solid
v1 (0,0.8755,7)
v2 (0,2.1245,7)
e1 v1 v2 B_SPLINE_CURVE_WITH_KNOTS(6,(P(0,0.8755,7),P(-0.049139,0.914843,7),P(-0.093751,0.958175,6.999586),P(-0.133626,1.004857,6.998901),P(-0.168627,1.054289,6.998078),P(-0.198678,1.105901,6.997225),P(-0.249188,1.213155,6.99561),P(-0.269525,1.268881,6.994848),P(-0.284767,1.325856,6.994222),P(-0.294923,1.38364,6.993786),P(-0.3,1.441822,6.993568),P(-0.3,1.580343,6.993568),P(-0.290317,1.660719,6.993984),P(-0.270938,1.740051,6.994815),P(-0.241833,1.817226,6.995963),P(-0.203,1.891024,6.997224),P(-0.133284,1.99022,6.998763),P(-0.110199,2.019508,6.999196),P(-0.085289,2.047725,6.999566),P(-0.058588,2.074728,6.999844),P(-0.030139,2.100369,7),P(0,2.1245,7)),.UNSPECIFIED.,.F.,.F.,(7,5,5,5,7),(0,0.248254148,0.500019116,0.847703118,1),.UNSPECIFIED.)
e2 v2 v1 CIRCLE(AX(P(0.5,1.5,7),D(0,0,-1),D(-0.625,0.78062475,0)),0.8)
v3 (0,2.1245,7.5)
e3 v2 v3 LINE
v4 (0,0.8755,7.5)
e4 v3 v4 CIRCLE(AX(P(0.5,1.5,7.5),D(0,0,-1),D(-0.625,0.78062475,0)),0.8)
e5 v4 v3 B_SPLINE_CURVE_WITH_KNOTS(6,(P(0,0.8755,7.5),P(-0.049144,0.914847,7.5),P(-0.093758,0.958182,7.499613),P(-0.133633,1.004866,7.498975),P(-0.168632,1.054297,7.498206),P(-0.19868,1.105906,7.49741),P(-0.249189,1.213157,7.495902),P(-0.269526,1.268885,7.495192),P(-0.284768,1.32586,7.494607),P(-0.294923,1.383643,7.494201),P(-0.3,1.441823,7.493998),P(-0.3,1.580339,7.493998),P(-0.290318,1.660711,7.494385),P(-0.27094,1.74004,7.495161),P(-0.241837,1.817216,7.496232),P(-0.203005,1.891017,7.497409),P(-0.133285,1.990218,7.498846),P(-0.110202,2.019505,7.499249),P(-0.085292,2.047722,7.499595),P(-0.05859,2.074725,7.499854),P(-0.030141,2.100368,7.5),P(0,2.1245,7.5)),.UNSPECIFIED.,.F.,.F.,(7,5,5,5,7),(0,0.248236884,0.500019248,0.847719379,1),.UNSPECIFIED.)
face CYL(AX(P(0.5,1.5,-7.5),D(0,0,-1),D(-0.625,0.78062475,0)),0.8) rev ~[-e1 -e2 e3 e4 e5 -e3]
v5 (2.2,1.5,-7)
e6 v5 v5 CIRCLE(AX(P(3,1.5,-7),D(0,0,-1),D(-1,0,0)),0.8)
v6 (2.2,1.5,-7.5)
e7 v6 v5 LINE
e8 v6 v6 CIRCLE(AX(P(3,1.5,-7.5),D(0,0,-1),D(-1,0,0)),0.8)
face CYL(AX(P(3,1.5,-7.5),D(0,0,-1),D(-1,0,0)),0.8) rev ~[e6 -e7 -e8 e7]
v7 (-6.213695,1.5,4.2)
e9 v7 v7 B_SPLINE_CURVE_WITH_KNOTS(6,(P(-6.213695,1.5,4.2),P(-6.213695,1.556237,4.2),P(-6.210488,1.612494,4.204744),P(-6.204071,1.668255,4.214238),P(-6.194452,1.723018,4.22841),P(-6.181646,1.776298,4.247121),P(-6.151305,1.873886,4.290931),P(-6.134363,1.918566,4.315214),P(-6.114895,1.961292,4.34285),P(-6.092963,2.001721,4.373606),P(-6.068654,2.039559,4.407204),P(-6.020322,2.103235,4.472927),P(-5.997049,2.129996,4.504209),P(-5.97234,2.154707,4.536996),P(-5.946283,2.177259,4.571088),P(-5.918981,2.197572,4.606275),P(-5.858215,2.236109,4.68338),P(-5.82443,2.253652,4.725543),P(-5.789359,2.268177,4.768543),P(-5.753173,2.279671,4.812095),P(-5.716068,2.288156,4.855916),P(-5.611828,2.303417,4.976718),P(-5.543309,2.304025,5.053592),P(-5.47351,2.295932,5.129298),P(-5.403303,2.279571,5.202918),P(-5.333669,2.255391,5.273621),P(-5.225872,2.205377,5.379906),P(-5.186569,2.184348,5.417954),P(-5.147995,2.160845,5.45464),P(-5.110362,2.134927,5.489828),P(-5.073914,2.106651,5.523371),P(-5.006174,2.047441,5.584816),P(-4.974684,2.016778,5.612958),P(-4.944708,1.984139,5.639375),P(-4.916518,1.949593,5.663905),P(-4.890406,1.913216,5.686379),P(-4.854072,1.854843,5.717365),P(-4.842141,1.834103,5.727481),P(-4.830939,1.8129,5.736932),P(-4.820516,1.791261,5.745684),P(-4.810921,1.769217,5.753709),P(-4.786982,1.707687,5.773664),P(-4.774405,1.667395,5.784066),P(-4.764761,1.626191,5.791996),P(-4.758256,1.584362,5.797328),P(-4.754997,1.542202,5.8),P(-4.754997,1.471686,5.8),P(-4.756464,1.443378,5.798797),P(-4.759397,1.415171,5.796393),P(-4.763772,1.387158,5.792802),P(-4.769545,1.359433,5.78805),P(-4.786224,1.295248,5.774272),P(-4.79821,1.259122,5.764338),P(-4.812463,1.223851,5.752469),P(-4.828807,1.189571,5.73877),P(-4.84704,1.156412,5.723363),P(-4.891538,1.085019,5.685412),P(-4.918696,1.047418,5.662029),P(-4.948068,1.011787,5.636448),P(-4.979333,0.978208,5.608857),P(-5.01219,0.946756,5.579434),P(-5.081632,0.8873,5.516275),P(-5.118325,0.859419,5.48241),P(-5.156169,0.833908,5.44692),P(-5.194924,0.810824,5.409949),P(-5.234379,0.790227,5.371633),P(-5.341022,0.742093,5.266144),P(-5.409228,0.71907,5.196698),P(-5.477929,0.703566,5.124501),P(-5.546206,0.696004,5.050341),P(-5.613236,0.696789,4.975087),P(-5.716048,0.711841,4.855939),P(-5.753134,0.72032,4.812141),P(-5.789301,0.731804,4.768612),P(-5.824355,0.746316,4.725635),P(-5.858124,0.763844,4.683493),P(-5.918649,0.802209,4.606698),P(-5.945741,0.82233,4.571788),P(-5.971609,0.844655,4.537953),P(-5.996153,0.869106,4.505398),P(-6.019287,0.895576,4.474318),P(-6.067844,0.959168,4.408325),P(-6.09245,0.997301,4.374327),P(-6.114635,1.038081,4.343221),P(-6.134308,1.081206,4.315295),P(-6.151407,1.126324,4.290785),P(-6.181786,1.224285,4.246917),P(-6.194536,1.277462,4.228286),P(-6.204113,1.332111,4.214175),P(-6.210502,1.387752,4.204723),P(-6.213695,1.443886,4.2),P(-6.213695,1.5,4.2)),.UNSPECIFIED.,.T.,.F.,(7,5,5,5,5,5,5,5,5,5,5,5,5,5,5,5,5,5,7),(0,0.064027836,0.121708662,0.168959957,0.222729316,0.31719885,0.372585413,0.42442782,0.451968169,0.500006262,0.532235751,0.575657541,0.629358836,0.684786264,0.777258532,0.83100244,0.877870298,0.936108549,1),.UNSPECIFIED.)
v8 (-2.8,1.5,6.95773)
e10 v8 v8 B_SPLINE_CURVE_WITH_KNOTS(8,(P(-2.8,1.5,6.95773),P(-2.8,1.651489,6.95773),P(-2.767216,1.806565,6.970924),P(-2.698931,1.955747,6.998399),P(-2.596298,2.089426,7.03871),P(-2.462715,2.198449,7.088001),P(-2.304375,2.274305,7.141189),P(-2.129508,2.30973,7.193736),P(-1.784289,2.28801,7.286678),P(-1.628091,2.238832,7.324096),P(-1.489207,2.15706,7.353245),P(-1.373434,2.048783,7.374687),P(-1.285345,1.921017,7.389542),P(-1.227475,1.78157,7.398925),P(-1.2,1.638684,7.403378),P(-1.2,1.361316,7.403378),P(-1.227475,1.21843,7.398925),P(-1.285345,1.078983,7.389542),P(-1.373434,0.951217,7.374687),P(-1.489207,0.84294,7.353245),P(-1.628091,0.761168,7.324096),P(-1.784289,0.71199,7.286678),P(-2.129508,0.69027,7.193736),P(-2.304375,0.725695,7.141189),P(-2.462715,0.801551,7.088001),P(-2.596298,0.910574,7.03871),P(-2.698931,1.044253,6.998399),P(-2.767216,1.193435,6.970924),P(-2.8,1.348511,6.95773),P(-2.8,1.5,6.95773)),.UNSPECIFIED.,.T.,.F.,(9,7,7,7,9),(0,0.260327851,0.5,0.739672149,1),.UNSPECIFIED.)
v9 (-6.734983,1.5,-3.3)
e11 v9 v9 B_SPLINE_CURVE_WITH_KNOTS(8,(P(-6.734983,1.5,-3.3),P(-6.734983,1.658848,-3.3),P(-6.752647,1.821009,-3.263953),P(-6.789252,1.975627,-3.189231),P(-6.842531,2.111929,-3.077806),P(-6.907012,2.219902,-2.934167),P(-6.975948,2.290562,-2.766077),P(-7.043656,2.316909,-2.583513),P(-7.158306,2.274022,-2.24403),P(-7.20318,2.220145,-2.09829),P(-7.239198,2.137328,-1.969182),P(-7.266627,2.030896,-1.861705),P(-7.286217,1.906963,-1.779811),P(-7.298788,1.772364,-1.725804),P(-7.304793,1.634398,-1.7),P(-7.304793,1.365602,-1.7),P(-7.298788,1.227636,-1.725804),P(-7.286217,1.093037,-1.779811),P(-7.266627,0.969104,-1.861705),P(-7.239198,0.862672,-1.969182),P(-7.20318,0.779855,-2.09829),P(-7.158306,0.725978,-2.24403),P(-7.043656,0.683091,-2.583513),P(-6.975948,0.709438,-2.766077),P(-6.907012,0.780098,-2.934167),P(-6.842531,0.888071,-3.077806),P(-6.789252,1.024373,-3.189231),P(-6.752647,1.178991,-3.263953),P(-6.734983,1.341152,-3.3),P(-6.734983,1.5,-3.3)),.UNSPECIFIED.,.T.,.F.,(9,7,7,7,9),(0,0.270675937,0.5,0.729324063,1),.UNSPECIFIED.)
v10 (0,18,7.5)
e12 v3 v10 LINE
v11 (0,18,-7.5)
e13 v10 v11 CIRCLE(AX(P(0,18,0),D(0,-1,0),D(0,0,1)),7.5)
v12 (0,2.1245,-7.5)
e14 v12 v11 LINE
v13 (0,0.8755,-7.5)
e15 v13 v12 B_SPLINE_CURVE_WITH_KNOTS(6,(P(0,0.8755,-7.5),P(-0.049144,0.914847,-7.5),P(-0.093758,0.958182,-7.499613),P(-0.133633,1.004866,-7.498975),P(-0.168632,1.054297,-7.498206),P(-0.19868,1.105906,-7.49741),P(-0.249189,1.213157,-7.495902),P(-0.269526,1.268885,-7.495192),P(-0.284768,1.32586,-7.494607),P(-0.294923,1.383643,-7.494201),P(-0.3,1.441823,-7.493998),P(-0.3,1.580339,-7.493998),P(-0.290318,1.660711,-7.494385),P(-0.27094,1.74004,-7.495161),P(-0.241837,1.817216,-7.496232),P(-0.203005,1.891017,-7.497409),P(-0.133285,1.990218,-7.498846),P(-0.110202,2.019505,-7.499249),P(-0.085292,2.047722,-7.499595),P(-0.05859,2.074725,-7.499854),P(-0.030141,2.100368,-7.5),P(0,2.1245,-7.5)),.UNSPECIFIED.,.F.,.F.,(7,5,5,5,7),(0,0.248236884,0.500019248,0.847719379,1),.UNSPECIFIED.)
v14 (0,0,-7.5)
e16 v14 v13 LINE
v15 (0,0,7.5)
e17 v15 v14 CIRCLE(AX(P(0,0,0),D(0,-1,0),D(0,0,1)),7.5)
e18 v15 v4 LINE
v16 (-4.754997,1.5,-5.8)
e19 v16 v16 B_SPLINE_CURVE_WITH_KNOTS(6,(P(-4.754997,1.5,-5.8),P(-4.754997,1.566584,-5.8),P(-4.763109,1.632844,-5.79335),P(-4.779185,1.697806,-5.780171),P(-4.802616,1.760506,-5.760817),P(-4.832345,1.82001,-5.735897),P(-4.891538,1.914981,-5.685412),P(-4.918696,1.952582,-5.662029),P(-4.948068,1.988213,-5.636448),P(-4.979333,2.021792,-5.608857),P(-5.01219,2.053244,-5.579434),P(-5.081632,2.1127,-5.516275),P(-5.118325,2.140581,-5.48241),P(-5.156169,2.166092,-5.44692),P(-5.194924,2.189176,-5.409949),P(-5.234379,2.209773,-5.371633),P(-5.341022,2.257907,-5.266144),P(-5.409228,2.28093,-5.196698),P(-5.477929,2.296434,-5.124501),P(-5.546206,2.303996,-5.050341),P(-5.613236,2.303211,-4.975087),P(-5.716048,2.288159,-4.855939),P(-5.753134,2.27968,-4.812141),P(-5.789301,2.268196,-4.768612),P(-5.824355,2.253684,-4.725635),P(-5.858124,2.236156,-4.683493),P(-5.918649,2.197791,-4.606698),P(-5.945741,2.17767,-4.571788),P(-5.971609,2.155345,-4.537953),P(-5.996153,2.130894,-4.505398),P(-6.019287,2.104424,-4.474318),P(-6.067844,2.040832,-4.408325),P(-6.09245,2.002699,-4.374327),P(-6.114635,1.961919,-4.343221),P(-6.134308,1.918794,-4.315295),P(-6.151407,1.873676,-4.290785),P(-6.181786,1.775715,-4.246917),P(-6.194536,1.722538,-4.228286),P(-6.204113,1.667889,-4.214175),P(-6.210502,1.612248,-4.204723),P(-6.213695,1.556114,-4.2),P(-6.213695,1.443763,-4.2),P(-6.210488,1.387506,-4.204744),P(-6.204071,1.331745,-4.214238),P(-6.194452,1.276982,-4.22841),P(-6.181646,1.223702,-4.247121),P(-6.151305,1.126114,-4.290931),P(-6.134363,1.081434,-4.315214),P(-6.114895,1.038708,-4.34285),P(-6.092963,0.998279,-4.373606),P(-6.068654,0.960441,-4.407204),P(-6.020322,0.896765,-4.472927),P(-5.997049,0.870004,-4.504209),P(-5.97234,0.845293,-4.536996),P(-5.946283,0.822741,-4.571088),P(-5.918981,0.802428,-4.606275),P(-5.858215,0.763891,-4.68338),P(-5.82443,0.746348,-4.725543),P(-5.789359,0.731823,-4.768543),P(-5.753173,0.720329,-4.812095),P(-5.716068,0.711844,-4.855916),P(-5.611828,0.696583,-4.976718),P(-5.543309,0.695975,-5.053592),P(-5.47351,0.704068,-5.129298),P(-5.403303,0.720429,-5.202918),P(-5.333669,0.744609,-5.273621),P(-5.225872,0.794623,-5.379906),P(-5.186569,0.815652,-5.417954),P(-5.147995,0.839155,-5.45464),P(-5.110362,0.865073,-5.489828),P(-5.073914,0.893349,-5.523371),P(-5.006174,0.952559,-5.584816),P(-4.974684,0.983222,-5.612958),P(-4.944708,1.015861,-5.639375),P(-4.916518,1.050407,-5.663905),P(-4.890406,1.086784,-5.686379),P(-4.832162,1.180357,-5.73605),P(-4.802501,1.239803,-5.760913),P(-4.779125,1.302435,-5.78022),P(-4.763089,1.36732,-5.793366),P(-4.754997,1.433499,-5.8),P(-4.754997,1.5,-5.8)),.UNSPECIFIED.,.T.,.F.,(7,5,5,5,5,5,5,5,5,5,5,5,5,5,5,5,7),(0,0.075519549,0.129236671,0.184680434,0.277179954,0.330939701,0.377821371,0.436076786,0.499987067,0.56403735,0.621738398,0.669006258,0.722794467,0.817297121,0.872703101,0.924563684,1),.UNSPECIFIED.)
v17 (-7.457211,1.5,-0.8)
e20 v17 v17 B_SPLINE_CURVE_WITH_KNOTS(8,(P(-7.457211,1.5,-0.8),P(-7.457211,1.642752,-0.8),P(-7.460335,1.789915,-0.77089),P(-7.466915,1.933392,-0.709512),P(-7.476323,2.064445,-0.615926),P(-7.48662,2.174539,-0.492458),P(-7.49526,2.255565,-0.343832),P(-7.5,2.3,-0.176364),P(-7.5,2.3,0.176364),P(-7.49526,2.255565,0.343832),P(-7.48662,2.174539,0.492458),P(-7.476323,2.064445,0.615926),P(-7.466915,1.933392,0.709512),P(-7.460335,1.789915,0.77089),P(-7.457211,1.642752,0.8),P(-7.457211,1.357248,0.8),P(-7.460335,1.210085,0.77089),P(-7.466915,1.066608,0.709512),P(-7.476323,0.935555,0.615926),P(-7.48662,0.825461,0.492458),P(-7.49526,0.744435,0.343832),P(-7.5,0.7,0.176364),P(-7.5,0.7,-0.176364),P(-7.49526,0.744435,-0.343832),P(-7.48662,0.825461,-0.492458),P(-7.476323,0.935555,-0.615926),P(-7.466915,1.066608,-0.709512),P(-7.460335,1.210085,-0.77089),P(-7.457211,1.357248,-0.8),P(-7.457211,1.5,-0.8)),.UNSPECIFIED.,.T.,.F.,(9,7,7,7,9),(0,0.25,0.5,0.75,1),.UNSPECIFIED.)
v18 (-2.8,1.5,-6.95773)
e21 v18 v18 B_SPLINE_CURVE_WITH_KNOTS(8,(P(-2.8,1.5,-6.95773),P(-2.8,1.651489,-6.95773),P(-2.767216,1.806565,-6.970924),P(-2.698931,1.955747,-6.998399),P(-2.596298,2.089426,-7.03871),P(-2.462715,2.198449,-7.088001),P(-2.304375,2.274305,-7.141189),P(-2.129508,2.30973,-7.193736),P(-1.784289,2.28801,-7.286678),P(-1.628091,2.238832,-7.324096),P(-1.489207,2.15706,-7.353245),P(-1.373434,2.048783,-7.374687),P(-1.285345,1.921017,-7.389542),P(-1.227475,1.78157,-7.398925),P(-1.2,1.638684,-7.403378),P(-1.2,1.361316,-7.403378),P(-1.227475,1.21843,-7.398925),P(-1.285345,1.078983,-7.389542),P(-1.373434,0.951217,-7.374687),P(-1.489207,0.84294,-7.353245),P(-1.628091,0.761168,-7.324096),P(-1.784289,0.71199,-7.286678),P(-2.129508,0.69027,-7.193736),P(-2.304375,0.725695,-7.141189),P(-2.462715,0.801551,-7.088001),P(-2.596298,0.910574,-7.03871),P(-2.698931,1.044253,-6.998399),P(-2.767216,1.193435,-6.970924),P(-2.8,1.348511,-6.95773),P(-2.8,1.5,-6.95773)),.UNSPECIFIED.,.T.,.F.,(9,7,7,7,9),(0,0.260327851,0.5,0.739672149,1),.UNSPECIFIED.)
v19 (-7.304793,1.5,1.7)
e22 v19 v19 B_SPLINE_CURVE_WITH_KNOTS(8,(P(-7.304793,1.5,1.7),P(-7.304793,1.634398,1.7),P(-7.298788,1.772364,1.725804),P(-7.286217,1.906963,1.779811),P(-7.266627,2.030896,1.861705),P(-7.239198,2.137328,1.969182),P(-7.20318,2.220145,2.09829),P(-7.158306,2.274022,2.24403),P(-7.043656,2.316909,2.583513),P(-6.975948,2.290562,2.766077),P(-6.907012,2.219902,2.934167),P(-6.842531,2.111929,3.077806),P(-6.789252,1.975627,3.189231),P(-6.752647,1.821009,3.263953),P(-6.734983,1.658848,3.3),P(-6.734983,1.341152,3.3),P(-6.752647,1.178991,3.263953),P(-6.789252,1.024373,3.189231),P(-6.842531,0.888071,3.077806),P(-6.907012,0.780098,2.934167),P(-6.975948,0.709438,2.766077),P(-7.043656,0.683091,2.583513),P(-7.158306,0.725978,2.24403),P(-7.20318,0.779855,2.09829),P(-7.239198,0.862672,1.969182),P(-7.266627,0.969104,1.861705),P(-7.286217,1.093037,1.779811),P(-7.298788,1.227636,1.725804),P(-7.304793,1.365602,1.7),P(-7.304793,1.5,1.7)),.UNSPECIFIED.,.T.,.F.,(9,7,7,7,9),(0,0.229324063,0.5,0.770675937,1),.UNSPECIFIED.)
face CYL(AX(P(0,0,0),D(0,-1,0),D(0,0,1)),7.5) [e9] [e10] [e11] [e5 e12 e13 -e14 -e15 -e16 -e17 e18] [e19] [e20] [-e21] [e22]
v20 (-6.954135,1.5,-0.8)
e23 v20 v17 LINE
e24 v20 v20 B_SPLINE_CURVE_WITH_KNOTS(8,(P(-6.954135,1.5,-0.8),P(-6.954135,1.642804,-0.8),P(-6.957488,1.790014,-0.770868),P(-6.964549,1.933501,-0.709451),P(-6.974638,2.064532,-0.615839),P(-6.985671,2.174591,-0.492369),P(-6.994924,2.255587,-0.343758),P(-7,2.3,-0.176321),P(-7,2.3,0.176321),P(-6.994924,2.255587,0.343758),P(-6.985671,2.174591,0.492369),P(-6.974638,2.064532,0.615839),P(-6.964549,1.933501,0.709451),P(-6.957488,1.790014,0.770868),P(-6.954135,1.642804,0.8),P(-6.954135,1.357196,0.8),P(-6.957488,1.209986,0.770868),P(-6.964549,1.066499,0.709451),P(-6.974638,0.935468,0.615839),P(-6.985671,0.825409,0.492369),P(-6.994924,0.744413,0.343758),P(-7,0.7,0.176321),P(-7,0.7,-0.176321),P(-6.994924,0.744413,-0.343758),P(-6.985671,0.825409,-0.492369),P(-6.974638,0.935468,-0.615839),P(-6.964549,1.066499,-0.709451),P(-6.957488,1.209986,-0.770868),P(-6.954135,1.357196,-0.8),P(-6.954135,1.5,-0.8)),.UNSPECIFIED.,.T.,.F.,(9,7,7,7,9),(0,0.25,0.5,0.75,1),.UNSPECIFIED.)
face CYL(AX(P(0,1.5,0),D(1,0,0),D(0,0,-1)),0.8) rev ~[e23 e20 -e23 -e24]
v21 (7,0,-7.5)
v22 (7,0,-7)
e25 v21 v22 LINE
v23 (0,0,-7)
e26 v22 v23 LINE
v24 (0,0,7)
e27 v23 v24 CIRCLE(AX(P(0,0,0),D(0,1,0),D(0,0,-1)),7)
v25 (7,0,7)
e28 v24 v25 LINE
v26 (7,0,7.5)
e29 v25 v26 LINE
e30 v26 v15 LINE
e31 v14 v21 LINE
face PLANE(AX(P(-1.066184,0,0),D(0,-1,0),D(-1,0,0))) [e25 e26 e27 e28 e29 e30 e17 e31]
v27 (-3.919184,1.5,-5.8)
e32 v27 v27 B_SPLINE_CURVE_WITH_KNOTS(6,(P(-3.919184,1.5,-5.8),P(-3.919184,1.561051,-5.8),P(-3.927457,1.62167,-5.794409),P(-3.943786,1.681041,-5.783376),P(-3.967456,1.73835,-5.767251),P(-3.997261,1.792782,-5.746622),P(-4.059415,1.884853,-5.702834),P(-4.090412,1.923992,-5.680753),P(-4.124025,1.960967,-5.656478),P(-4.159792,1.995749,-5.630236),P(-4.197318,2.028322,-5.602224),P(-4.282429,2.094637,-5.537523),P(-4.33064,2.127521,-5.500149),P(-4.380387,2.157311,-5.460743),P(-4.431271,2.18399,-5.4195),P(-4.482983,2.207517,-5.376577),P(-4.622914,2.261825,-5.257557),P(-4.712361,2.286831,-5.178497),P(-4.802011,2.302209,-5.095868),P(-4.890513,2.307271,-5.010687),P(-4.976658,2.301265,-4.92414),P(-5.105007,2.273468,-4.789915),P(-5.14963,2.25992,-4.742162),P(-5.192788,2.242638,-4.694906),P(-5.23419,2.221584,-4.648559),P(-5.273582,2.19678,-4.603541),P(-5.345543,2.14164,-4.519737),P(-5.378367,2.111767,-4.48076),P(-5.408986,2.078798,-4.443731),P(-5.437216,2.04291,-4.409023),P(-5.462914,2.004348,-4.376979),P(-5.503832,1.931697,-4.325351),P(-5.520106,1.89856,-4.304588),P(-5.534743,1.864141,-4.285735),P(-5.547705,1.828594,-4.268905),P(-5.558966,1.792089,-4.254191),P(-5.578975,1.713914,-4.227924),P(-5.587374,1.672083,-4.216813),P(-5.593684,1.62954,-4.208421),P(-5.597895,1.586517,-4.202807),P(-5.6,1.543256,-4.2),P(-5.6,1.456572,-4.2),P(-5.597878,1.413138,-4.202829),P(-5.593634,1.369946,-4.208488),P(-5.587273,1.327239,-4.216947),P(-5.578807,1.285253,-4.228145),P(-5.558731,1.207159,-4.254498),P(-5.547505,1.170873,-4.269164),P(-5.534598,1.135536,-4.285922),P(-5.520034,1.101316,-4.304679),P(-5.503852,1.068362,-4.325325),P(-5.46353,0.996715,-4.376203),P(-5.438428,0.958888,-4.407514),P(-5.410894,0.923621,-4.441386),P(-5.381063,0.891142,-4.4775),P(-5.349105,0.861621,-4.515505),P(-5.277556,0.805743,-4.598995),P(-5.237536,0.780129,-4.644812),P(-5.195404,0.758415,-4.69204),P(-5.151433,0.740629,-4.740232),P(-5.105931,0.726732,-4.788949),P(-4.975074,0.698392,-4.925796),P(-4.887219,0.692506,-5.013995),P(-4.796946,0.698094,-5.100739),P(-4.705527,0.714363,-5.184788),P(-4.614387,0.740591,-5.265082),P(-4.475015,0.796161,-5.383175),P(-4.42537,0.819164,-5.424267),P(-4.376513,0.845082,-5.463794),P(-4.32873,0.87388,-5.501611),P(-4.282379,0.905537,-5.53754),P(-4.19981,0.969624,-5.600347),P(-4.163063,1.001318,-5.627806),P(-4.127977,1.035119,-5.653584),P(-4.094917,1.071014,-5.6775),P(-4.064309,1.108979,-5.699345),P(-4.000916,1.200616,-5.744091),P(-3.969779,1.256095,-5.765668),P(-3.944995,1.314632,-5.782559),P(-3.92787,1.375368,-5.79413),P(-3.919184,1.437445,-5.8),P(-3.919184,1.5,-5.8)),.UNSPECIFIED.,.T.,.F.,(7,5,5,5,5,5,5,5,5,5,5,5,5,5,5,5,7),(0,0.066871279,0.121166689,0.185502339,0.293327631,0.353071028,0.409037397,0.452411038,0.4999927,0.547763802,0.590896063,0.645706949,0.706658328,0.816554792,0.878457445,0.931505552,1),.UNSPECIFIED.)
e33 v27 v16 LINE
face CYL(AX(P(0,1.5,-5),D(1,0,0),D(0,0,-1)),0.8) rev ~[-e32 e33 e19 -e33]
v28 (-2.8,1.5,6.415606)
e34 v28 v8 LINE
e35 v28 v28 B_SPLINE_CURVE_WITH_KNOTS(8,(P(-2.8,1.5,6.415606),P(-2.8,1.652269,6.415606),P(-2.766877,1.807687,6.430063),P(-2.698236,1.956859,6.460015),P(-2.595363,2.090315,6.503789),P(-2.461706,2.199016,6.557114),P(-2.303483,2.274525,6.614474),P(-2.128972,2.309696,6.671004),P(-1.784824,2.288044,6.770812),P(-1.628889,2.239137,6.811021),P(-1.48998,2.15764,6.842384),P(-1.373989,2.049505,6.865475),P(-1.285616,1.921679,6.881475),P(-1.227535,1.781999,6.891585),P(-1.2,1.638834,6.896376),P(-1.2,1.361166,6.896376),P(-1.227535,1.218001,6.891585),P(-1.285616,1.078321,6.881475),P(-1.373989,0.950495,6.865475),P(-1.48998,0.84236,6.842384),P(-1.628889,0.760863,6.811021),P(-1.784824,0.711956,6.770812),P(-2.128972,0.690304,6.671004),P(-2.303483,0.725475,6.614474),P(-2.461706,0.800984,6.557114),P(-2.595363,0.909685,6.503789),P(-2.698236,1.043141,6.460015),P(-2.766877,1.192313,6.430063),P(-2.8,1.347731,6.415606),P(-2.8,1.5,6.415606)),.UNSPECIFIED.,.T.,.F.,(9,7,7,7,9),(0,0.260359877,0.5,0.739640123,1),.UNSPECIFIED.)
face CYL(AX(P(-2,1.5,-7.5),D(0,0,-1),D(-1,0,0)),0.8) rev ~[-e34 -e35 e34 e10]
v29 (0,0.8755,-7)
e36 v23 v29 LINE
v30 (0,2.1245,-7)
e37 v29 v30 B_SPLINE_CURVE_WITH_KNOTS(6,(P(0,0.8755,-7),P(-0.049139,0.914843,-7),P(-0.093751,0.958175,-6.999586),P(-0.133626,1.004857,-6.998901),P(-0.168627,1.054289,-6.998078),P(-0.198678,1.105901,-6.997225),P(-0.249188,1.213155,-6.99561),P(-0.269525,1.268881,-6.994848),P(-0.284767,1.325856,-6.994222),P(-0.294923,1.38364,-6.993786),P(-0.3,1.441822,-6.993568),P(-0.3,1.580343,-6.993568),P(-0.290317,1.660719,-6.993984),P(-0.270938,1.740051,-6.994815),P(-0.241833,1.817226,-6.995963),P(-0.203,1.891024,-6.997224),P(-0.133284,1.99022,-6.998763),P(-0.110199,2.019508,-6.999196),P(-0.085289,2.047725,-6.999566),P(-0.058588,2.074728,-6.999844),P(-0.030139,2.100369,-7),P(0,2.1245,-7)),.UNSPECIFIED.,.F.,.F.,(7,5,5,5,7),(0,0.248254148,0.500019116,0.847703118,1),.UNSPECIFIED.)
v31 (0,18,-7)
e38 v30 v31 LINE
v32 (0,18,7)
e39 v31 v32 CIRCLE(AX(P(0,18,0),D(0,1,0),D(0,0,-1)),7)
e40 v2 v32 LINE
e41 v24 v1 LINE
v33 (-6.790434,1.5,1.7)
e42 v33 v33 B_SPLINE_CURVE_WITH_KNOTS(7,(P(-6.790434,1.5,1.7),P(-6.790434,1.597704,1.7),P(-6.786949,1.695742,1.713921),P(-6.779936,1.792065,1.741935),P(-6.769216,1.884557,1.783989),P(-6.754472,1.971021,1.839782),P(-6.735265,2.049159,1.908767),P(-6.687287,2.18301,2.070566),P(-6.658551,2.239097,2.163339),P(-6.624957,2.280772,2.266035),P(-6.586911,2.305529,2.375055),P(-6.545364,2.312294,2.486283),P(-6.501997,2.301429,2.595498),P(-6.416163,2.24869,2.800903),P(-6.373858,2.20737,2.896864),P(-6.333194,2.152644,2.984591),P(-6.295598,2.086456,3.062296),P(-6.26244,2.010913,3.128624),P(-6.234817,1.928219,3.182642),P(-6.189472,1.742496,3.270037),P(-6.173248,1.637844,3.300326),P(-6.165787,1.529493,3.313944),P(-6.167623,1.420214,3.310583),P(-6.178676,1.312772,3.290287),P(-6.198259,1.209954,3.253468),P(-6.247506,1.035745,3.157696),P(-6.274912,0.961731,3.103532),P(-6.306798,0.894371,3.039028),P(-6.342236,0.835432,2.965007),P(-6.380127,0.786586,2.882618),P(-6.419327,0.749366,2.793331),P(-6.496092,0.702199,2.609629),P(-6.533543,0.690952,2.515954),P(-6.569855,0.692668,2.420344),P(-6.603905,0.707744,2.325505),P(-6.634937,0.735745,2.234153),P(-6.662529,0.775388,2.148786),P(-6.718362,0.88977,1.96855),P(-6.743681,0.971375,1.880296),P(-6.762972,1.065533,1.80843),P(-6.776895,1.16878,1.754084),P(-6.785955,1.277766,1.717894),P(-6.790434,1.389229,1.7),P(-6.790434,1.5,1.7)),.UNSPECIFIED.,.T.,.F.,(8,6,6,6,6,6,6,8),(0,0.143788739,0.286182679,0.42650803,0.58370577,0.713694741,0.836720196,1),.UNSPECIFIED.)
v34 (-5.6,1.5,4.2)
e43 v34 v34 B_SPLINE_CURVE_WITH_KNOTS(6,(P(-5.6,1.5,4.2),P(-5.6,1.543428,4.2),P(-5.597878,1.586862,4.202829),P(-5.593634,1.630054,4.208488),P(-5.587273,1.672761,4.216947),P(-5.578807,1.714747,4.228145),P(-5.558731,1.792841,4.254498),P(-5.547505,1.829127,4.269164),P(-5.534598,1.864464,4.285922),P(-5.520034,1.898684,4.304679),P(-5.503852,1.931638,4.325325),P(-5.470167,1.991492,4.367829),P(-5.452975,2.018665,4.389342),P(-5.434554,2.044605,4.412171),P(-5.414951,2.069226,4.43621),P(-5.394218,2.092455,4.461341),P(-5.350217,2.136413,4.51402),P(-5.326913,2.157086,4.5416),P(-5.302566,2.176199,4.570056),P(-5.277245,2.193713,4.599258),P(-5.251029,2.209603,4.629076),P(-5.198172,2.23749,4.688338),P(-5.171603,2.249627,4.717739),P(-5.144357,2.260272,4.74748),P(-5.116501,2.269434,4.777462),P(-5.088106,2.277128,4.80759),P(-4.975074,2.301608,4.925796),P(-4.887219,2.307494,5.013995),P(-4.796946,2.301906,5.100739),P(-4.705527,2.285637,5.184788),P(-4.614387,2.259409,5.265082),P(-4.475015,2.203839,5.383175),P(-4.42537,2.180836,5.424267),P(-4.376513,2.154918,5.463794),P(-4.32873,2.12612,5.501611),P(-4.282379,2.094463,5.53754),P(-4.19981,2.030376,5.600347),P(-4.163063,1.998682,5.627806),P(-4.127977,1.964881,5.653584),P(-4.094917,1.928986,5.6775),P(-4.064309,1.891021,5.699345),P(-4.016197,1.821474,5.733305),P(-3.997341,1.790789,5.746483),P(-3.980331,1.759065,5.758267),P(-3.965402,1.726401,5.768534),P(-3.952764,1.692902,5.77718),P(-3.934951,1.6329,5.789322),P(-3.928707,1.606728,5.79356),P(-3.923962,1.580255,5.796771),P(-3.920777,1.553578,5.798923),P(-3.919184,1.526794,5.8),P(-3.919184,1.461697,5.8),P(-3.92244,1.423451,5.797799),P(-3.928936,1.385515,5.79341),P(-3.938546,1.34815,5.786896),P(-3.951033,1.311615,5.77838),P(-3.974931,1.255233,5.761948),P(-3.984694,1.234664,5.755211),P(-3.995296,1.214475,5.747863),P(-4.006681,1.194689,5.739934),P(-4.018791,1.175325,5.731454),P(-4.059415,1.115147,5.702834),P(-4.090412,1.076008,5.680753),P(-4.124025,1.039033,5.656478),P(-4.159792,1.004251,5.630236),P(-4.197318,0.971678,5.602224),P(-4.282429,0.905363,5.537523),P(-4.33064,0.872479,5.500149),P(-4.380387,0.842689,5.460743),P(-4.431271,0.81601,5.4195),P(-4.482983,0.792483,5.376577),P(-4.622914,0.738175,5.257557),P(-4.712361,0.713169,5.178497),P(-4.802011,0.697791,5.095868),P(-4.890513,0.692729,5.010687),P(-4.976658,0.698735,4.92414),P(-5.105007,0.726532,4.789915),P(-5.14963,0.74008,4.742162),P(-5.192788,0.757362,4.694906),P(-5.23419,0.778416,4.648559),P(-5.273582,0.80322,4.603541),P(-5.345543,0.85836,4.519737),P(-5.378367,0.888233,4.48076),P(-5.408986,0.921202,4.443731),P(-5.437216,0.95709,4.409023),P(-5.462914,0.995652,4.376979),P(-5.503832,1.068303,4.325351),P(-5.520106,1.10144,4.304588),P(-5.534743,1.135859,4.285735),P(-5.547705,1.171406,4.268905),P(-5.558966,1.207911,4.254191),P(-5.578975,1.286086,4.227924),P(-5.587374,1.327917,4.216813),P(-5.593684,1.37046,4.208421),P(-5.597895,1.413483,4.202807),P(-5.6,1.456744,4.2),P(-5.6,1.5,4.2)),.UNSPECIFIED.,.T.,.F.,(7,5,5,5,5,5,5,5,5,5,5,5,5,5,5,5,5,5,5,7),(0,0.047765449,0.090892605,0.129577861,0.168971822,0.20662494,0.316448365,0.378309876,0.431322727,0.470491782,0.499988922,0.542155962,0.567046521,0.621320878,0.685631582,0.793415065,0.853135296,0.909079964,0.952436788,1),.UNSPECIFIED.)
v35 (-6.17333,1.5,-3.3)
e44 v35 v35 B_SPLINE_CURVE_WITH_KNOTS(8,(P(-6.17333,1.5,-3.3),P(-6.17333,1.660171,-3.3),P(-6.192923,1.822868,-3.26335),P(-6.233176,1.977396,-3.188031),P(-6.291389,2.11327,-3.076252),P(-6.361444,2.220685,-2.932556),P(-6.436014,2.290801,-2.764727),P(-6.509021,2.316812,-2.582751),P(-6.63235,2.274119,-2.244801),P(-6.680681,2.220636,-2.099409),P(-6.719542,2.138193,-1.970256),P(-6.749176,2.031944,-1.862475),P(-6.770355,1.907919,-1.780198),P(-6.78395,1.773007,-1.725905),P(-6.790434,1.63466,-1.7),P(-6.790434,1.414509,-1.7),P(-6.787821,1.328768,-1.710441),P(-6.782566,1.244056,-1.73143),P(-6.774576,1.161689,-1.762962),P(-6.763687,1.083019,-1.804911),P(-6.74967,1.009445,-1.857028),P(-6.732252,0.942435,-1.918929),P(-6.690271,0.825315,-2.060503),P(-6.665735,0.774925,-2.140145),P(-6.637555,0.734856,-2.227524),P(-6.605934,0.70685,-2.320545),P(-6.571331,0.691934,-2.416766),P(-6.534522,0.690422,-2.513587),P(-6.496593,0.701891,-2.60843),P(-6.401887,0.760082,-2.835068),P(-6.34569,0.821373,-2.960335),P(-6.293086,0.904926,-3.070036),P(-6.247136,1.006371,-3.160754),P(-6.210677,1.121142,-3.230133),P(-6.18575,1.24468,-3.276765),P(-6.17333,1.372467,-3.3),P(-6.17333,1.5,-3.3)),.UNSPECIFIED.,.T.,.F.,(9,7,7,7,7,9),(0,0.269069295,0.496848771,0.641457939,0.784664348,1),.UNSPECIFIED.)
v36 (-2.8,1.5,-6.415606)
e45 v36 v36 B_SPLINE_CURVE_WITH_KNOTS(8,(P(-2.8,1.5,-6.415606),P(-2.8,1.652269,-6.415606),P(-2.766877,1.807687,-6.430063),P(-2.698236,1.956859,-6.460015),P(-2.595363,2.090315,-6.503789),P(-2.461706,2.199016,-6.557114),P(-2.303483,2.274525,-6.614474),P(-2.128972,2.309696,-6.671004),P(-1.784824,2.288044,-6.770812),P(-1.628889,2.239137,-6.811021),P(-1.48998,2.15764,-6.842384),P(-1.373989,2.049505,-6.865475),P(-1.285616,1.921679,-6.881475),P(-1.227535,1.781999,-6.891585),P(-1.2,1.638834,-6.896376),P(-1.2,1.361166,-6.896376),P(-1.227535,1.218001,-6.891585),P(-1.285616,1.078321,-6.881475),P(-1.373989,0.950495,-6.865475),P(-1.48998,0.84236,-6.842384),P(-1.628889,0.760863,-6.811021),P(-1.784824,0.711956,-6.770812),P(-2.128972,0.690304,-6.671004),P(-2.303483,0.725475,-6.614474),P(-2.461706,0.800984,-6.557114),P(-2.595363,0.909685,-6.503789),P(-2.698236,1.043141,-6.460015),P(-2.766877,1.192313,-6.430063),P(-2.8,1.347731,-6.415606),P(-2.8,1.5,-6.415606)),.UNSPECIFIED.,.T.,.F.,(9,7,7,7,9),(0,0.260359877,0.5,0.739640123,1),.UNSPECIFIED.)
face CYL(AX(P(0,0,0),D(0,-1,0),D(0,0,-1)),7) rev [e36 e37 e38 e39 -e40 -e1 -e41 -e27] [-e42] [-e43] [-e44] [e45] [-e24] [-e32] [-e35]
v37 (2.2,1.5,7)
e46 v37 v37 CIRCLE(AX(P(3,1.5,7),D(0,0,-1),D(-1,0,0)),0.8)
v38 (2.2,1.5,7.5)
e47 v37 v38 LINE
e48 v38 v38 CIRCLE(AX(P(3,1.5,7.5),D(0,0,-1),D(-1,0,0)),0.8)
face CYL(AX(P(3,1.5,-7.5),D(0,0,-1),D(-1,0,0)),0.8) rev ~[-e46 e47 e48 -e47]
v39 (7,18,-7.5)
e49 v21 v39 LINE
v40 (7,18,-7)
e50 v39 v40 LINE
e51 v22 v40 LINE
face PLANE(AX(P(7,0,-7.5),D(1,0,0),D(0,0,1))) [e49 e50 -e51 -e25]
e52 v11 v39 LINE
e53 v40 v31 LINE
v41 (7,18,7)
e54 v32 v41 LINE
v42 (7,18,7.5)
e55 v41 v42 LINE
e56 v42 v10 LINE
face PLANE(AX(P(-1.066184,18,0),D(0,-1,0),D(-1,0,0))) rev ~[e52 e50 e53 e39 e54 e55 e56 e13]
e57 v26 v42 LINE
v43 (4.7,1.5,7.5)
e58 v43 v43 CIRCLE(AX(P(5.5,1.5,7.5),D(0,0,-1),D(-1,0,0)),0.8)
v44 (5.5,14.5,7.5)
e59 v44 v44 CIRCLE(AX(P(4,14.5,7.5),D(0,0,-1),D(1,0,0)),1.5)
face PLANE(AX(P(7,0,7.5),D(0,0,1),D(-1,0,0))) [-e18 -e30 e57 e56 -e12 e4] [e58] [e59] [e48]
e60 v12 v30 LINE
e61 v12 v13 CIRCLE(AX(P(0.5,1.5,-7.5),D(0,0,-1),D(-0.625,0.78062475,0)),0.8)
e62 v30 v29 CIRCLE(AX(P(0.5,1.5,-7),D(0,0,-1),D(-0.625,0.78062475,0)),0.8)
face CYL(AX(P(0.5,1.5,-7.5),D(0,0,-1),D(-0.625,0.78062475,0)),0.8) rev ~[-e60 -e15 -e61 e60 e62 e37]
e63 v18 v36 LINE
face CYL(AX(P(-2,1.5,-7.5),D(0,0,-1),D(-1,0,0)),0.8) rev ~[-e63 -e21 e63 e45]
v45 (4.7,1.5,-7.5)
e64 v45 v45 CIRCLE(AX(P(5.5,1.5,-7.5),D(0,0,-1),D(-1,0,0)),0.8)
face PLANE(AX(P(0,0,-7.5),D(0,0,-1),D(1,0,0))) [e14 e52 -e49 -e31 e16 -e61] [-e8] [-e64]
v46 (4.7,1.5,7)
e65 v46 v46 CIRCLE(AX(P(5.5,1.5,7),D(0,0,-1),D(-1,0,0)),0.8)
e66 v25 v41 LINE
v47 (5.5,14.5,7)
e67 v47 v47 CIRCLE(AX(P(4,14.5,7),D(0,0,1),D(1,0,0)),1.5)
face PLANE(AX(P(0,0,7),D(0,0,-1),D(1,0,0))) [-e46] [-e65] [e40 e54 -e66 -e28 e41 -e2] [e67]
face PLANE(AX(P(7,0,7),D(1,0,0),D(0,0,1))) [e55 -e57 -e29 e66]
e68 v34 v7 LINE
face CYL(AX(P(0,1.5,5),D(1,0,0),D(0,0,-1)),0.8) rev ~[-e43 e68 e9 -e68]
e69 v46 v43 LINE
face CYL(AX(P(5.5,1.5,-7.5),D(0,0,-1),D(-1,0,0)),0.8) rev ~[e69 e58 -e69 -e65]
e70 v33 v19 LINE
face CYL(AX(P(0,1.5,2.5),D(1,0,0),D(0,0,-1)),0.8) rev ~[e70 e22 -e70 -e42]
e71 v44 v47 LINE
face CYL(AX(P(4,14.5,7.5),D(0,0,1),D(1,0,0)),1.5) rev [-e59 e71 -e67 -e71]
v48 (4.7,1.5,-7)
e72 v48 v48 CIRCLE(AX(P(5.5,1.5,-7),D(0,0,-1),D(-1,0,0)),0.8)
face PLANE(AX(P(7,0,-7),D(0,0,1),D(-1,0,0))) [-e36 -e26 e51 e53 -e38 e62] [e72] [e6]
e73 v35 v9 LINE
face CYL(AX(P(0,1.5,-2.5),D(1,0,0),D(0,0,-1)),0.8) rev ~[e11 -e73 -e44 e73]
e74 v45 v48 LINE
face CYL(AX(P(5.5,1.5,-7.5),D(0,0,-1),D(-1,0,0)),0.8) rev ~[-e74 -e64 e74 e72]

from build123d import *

# Parameters (mm, degrees)
BOSS_EXTRUDE1_DEPTH = 18
SKETCH2_R           = 1.5
CUT_EXTRUDE1_DEPTH  = 2
SKETCH3_R           = 0.8
CUT_EXTRUDE2_DEPTH  = 25.6018292
SKETCH4_R           = 0.8
CUT_EXTRUDE3_DEPTH  = 21.892582574


with BuildPart() as part:
    # Sketch1 → Boss-Extrude1 (new body)
    with BuildSketch(Plane(origin=(0, 0, 0), x_dir=(1, 0, 0), z_dir=(0, 1, 0))):
        with BuildLine():
            Line((0, 7.5), (7, 7.5))
            Line((7, 7.5), (7, 7))
            Line((7, 7), (0, 7))
            ThreePointArc((0, 7), (-7, 0), (0, -7))
            Line((0, -7), (7, -7))
            Line((7, -7), (7, -7.5))
            Line((7, -7.5), (0, -7.5))
            ThreePointArc((0, -7.5), (-7.5, 0), (0, 7.5))
        make_face()
    extrude(amount=BOSS_EXTRUDE1_DEPTH)

    # Sketch2 → Cut-Extrude1 (cut)
    with BuildSketch(Plane(origin=(0, 0, 7.5), x_dir=(-1, 0, 0), z_dir=(0, 0, -1))):
        with Locations(Location((-4, 14.5, 0), (0, 0, 180))):
            Circle(SKETCH2_R)
    extrude(amount=CUT_EXTRUDE1_DEPTH, mode=Mode.SUBTRACT)

    # Sketch3 → Cut-Extrude2 (cut, through all)
    with BuildSketch(Plane(origin=(0, 0, -7.5), x_dir=(-1, 0, 0), z_dir=(0, 0, -1))):
        with Locations((-5.5, 1.5)):
            Circle(SKETCH3_R)
        with Locations((-3, 1.5)):
            Circle(SKETCH3_R)
        with Locations(Location((-0.5, 1.5, 0), (0, 0, 51.317812547))):
            Circle(SKETCH3_R)
        with Locations((2, 1.5)):
            Circle(SKETCH3_R)
    extrude(amount=-CUT_EXTRUDE2_DEPTH, mode=Mode.SUBTRACT)

    # Sketch4 → Cut-Extrude3 (cut, through all)
    with BuildSketch(Plane(origin=(0, 0, 0), x_dir=(0, 0, -1), z_dir=(1, 0, 0))):
        with Locations((0, 1.5)):
            Circle(SKETCH4_R)
        with Locations((2.5, 1.5)):
            Circle(SKETCH4_R)
        with Locations((5, 1.5)):
            Circle(SKETCH4_R)
        with Locations((-2.5, 1.5)):
            Circle(SKETCH4_R)
        with Locations((-5, 1.5)):
            Circle(SKETCH4_R)
    extrude(amount=-CUT_EXTRUDE3_DEPTH, mode=Mode.SUBTRACT)


solid = part.part
